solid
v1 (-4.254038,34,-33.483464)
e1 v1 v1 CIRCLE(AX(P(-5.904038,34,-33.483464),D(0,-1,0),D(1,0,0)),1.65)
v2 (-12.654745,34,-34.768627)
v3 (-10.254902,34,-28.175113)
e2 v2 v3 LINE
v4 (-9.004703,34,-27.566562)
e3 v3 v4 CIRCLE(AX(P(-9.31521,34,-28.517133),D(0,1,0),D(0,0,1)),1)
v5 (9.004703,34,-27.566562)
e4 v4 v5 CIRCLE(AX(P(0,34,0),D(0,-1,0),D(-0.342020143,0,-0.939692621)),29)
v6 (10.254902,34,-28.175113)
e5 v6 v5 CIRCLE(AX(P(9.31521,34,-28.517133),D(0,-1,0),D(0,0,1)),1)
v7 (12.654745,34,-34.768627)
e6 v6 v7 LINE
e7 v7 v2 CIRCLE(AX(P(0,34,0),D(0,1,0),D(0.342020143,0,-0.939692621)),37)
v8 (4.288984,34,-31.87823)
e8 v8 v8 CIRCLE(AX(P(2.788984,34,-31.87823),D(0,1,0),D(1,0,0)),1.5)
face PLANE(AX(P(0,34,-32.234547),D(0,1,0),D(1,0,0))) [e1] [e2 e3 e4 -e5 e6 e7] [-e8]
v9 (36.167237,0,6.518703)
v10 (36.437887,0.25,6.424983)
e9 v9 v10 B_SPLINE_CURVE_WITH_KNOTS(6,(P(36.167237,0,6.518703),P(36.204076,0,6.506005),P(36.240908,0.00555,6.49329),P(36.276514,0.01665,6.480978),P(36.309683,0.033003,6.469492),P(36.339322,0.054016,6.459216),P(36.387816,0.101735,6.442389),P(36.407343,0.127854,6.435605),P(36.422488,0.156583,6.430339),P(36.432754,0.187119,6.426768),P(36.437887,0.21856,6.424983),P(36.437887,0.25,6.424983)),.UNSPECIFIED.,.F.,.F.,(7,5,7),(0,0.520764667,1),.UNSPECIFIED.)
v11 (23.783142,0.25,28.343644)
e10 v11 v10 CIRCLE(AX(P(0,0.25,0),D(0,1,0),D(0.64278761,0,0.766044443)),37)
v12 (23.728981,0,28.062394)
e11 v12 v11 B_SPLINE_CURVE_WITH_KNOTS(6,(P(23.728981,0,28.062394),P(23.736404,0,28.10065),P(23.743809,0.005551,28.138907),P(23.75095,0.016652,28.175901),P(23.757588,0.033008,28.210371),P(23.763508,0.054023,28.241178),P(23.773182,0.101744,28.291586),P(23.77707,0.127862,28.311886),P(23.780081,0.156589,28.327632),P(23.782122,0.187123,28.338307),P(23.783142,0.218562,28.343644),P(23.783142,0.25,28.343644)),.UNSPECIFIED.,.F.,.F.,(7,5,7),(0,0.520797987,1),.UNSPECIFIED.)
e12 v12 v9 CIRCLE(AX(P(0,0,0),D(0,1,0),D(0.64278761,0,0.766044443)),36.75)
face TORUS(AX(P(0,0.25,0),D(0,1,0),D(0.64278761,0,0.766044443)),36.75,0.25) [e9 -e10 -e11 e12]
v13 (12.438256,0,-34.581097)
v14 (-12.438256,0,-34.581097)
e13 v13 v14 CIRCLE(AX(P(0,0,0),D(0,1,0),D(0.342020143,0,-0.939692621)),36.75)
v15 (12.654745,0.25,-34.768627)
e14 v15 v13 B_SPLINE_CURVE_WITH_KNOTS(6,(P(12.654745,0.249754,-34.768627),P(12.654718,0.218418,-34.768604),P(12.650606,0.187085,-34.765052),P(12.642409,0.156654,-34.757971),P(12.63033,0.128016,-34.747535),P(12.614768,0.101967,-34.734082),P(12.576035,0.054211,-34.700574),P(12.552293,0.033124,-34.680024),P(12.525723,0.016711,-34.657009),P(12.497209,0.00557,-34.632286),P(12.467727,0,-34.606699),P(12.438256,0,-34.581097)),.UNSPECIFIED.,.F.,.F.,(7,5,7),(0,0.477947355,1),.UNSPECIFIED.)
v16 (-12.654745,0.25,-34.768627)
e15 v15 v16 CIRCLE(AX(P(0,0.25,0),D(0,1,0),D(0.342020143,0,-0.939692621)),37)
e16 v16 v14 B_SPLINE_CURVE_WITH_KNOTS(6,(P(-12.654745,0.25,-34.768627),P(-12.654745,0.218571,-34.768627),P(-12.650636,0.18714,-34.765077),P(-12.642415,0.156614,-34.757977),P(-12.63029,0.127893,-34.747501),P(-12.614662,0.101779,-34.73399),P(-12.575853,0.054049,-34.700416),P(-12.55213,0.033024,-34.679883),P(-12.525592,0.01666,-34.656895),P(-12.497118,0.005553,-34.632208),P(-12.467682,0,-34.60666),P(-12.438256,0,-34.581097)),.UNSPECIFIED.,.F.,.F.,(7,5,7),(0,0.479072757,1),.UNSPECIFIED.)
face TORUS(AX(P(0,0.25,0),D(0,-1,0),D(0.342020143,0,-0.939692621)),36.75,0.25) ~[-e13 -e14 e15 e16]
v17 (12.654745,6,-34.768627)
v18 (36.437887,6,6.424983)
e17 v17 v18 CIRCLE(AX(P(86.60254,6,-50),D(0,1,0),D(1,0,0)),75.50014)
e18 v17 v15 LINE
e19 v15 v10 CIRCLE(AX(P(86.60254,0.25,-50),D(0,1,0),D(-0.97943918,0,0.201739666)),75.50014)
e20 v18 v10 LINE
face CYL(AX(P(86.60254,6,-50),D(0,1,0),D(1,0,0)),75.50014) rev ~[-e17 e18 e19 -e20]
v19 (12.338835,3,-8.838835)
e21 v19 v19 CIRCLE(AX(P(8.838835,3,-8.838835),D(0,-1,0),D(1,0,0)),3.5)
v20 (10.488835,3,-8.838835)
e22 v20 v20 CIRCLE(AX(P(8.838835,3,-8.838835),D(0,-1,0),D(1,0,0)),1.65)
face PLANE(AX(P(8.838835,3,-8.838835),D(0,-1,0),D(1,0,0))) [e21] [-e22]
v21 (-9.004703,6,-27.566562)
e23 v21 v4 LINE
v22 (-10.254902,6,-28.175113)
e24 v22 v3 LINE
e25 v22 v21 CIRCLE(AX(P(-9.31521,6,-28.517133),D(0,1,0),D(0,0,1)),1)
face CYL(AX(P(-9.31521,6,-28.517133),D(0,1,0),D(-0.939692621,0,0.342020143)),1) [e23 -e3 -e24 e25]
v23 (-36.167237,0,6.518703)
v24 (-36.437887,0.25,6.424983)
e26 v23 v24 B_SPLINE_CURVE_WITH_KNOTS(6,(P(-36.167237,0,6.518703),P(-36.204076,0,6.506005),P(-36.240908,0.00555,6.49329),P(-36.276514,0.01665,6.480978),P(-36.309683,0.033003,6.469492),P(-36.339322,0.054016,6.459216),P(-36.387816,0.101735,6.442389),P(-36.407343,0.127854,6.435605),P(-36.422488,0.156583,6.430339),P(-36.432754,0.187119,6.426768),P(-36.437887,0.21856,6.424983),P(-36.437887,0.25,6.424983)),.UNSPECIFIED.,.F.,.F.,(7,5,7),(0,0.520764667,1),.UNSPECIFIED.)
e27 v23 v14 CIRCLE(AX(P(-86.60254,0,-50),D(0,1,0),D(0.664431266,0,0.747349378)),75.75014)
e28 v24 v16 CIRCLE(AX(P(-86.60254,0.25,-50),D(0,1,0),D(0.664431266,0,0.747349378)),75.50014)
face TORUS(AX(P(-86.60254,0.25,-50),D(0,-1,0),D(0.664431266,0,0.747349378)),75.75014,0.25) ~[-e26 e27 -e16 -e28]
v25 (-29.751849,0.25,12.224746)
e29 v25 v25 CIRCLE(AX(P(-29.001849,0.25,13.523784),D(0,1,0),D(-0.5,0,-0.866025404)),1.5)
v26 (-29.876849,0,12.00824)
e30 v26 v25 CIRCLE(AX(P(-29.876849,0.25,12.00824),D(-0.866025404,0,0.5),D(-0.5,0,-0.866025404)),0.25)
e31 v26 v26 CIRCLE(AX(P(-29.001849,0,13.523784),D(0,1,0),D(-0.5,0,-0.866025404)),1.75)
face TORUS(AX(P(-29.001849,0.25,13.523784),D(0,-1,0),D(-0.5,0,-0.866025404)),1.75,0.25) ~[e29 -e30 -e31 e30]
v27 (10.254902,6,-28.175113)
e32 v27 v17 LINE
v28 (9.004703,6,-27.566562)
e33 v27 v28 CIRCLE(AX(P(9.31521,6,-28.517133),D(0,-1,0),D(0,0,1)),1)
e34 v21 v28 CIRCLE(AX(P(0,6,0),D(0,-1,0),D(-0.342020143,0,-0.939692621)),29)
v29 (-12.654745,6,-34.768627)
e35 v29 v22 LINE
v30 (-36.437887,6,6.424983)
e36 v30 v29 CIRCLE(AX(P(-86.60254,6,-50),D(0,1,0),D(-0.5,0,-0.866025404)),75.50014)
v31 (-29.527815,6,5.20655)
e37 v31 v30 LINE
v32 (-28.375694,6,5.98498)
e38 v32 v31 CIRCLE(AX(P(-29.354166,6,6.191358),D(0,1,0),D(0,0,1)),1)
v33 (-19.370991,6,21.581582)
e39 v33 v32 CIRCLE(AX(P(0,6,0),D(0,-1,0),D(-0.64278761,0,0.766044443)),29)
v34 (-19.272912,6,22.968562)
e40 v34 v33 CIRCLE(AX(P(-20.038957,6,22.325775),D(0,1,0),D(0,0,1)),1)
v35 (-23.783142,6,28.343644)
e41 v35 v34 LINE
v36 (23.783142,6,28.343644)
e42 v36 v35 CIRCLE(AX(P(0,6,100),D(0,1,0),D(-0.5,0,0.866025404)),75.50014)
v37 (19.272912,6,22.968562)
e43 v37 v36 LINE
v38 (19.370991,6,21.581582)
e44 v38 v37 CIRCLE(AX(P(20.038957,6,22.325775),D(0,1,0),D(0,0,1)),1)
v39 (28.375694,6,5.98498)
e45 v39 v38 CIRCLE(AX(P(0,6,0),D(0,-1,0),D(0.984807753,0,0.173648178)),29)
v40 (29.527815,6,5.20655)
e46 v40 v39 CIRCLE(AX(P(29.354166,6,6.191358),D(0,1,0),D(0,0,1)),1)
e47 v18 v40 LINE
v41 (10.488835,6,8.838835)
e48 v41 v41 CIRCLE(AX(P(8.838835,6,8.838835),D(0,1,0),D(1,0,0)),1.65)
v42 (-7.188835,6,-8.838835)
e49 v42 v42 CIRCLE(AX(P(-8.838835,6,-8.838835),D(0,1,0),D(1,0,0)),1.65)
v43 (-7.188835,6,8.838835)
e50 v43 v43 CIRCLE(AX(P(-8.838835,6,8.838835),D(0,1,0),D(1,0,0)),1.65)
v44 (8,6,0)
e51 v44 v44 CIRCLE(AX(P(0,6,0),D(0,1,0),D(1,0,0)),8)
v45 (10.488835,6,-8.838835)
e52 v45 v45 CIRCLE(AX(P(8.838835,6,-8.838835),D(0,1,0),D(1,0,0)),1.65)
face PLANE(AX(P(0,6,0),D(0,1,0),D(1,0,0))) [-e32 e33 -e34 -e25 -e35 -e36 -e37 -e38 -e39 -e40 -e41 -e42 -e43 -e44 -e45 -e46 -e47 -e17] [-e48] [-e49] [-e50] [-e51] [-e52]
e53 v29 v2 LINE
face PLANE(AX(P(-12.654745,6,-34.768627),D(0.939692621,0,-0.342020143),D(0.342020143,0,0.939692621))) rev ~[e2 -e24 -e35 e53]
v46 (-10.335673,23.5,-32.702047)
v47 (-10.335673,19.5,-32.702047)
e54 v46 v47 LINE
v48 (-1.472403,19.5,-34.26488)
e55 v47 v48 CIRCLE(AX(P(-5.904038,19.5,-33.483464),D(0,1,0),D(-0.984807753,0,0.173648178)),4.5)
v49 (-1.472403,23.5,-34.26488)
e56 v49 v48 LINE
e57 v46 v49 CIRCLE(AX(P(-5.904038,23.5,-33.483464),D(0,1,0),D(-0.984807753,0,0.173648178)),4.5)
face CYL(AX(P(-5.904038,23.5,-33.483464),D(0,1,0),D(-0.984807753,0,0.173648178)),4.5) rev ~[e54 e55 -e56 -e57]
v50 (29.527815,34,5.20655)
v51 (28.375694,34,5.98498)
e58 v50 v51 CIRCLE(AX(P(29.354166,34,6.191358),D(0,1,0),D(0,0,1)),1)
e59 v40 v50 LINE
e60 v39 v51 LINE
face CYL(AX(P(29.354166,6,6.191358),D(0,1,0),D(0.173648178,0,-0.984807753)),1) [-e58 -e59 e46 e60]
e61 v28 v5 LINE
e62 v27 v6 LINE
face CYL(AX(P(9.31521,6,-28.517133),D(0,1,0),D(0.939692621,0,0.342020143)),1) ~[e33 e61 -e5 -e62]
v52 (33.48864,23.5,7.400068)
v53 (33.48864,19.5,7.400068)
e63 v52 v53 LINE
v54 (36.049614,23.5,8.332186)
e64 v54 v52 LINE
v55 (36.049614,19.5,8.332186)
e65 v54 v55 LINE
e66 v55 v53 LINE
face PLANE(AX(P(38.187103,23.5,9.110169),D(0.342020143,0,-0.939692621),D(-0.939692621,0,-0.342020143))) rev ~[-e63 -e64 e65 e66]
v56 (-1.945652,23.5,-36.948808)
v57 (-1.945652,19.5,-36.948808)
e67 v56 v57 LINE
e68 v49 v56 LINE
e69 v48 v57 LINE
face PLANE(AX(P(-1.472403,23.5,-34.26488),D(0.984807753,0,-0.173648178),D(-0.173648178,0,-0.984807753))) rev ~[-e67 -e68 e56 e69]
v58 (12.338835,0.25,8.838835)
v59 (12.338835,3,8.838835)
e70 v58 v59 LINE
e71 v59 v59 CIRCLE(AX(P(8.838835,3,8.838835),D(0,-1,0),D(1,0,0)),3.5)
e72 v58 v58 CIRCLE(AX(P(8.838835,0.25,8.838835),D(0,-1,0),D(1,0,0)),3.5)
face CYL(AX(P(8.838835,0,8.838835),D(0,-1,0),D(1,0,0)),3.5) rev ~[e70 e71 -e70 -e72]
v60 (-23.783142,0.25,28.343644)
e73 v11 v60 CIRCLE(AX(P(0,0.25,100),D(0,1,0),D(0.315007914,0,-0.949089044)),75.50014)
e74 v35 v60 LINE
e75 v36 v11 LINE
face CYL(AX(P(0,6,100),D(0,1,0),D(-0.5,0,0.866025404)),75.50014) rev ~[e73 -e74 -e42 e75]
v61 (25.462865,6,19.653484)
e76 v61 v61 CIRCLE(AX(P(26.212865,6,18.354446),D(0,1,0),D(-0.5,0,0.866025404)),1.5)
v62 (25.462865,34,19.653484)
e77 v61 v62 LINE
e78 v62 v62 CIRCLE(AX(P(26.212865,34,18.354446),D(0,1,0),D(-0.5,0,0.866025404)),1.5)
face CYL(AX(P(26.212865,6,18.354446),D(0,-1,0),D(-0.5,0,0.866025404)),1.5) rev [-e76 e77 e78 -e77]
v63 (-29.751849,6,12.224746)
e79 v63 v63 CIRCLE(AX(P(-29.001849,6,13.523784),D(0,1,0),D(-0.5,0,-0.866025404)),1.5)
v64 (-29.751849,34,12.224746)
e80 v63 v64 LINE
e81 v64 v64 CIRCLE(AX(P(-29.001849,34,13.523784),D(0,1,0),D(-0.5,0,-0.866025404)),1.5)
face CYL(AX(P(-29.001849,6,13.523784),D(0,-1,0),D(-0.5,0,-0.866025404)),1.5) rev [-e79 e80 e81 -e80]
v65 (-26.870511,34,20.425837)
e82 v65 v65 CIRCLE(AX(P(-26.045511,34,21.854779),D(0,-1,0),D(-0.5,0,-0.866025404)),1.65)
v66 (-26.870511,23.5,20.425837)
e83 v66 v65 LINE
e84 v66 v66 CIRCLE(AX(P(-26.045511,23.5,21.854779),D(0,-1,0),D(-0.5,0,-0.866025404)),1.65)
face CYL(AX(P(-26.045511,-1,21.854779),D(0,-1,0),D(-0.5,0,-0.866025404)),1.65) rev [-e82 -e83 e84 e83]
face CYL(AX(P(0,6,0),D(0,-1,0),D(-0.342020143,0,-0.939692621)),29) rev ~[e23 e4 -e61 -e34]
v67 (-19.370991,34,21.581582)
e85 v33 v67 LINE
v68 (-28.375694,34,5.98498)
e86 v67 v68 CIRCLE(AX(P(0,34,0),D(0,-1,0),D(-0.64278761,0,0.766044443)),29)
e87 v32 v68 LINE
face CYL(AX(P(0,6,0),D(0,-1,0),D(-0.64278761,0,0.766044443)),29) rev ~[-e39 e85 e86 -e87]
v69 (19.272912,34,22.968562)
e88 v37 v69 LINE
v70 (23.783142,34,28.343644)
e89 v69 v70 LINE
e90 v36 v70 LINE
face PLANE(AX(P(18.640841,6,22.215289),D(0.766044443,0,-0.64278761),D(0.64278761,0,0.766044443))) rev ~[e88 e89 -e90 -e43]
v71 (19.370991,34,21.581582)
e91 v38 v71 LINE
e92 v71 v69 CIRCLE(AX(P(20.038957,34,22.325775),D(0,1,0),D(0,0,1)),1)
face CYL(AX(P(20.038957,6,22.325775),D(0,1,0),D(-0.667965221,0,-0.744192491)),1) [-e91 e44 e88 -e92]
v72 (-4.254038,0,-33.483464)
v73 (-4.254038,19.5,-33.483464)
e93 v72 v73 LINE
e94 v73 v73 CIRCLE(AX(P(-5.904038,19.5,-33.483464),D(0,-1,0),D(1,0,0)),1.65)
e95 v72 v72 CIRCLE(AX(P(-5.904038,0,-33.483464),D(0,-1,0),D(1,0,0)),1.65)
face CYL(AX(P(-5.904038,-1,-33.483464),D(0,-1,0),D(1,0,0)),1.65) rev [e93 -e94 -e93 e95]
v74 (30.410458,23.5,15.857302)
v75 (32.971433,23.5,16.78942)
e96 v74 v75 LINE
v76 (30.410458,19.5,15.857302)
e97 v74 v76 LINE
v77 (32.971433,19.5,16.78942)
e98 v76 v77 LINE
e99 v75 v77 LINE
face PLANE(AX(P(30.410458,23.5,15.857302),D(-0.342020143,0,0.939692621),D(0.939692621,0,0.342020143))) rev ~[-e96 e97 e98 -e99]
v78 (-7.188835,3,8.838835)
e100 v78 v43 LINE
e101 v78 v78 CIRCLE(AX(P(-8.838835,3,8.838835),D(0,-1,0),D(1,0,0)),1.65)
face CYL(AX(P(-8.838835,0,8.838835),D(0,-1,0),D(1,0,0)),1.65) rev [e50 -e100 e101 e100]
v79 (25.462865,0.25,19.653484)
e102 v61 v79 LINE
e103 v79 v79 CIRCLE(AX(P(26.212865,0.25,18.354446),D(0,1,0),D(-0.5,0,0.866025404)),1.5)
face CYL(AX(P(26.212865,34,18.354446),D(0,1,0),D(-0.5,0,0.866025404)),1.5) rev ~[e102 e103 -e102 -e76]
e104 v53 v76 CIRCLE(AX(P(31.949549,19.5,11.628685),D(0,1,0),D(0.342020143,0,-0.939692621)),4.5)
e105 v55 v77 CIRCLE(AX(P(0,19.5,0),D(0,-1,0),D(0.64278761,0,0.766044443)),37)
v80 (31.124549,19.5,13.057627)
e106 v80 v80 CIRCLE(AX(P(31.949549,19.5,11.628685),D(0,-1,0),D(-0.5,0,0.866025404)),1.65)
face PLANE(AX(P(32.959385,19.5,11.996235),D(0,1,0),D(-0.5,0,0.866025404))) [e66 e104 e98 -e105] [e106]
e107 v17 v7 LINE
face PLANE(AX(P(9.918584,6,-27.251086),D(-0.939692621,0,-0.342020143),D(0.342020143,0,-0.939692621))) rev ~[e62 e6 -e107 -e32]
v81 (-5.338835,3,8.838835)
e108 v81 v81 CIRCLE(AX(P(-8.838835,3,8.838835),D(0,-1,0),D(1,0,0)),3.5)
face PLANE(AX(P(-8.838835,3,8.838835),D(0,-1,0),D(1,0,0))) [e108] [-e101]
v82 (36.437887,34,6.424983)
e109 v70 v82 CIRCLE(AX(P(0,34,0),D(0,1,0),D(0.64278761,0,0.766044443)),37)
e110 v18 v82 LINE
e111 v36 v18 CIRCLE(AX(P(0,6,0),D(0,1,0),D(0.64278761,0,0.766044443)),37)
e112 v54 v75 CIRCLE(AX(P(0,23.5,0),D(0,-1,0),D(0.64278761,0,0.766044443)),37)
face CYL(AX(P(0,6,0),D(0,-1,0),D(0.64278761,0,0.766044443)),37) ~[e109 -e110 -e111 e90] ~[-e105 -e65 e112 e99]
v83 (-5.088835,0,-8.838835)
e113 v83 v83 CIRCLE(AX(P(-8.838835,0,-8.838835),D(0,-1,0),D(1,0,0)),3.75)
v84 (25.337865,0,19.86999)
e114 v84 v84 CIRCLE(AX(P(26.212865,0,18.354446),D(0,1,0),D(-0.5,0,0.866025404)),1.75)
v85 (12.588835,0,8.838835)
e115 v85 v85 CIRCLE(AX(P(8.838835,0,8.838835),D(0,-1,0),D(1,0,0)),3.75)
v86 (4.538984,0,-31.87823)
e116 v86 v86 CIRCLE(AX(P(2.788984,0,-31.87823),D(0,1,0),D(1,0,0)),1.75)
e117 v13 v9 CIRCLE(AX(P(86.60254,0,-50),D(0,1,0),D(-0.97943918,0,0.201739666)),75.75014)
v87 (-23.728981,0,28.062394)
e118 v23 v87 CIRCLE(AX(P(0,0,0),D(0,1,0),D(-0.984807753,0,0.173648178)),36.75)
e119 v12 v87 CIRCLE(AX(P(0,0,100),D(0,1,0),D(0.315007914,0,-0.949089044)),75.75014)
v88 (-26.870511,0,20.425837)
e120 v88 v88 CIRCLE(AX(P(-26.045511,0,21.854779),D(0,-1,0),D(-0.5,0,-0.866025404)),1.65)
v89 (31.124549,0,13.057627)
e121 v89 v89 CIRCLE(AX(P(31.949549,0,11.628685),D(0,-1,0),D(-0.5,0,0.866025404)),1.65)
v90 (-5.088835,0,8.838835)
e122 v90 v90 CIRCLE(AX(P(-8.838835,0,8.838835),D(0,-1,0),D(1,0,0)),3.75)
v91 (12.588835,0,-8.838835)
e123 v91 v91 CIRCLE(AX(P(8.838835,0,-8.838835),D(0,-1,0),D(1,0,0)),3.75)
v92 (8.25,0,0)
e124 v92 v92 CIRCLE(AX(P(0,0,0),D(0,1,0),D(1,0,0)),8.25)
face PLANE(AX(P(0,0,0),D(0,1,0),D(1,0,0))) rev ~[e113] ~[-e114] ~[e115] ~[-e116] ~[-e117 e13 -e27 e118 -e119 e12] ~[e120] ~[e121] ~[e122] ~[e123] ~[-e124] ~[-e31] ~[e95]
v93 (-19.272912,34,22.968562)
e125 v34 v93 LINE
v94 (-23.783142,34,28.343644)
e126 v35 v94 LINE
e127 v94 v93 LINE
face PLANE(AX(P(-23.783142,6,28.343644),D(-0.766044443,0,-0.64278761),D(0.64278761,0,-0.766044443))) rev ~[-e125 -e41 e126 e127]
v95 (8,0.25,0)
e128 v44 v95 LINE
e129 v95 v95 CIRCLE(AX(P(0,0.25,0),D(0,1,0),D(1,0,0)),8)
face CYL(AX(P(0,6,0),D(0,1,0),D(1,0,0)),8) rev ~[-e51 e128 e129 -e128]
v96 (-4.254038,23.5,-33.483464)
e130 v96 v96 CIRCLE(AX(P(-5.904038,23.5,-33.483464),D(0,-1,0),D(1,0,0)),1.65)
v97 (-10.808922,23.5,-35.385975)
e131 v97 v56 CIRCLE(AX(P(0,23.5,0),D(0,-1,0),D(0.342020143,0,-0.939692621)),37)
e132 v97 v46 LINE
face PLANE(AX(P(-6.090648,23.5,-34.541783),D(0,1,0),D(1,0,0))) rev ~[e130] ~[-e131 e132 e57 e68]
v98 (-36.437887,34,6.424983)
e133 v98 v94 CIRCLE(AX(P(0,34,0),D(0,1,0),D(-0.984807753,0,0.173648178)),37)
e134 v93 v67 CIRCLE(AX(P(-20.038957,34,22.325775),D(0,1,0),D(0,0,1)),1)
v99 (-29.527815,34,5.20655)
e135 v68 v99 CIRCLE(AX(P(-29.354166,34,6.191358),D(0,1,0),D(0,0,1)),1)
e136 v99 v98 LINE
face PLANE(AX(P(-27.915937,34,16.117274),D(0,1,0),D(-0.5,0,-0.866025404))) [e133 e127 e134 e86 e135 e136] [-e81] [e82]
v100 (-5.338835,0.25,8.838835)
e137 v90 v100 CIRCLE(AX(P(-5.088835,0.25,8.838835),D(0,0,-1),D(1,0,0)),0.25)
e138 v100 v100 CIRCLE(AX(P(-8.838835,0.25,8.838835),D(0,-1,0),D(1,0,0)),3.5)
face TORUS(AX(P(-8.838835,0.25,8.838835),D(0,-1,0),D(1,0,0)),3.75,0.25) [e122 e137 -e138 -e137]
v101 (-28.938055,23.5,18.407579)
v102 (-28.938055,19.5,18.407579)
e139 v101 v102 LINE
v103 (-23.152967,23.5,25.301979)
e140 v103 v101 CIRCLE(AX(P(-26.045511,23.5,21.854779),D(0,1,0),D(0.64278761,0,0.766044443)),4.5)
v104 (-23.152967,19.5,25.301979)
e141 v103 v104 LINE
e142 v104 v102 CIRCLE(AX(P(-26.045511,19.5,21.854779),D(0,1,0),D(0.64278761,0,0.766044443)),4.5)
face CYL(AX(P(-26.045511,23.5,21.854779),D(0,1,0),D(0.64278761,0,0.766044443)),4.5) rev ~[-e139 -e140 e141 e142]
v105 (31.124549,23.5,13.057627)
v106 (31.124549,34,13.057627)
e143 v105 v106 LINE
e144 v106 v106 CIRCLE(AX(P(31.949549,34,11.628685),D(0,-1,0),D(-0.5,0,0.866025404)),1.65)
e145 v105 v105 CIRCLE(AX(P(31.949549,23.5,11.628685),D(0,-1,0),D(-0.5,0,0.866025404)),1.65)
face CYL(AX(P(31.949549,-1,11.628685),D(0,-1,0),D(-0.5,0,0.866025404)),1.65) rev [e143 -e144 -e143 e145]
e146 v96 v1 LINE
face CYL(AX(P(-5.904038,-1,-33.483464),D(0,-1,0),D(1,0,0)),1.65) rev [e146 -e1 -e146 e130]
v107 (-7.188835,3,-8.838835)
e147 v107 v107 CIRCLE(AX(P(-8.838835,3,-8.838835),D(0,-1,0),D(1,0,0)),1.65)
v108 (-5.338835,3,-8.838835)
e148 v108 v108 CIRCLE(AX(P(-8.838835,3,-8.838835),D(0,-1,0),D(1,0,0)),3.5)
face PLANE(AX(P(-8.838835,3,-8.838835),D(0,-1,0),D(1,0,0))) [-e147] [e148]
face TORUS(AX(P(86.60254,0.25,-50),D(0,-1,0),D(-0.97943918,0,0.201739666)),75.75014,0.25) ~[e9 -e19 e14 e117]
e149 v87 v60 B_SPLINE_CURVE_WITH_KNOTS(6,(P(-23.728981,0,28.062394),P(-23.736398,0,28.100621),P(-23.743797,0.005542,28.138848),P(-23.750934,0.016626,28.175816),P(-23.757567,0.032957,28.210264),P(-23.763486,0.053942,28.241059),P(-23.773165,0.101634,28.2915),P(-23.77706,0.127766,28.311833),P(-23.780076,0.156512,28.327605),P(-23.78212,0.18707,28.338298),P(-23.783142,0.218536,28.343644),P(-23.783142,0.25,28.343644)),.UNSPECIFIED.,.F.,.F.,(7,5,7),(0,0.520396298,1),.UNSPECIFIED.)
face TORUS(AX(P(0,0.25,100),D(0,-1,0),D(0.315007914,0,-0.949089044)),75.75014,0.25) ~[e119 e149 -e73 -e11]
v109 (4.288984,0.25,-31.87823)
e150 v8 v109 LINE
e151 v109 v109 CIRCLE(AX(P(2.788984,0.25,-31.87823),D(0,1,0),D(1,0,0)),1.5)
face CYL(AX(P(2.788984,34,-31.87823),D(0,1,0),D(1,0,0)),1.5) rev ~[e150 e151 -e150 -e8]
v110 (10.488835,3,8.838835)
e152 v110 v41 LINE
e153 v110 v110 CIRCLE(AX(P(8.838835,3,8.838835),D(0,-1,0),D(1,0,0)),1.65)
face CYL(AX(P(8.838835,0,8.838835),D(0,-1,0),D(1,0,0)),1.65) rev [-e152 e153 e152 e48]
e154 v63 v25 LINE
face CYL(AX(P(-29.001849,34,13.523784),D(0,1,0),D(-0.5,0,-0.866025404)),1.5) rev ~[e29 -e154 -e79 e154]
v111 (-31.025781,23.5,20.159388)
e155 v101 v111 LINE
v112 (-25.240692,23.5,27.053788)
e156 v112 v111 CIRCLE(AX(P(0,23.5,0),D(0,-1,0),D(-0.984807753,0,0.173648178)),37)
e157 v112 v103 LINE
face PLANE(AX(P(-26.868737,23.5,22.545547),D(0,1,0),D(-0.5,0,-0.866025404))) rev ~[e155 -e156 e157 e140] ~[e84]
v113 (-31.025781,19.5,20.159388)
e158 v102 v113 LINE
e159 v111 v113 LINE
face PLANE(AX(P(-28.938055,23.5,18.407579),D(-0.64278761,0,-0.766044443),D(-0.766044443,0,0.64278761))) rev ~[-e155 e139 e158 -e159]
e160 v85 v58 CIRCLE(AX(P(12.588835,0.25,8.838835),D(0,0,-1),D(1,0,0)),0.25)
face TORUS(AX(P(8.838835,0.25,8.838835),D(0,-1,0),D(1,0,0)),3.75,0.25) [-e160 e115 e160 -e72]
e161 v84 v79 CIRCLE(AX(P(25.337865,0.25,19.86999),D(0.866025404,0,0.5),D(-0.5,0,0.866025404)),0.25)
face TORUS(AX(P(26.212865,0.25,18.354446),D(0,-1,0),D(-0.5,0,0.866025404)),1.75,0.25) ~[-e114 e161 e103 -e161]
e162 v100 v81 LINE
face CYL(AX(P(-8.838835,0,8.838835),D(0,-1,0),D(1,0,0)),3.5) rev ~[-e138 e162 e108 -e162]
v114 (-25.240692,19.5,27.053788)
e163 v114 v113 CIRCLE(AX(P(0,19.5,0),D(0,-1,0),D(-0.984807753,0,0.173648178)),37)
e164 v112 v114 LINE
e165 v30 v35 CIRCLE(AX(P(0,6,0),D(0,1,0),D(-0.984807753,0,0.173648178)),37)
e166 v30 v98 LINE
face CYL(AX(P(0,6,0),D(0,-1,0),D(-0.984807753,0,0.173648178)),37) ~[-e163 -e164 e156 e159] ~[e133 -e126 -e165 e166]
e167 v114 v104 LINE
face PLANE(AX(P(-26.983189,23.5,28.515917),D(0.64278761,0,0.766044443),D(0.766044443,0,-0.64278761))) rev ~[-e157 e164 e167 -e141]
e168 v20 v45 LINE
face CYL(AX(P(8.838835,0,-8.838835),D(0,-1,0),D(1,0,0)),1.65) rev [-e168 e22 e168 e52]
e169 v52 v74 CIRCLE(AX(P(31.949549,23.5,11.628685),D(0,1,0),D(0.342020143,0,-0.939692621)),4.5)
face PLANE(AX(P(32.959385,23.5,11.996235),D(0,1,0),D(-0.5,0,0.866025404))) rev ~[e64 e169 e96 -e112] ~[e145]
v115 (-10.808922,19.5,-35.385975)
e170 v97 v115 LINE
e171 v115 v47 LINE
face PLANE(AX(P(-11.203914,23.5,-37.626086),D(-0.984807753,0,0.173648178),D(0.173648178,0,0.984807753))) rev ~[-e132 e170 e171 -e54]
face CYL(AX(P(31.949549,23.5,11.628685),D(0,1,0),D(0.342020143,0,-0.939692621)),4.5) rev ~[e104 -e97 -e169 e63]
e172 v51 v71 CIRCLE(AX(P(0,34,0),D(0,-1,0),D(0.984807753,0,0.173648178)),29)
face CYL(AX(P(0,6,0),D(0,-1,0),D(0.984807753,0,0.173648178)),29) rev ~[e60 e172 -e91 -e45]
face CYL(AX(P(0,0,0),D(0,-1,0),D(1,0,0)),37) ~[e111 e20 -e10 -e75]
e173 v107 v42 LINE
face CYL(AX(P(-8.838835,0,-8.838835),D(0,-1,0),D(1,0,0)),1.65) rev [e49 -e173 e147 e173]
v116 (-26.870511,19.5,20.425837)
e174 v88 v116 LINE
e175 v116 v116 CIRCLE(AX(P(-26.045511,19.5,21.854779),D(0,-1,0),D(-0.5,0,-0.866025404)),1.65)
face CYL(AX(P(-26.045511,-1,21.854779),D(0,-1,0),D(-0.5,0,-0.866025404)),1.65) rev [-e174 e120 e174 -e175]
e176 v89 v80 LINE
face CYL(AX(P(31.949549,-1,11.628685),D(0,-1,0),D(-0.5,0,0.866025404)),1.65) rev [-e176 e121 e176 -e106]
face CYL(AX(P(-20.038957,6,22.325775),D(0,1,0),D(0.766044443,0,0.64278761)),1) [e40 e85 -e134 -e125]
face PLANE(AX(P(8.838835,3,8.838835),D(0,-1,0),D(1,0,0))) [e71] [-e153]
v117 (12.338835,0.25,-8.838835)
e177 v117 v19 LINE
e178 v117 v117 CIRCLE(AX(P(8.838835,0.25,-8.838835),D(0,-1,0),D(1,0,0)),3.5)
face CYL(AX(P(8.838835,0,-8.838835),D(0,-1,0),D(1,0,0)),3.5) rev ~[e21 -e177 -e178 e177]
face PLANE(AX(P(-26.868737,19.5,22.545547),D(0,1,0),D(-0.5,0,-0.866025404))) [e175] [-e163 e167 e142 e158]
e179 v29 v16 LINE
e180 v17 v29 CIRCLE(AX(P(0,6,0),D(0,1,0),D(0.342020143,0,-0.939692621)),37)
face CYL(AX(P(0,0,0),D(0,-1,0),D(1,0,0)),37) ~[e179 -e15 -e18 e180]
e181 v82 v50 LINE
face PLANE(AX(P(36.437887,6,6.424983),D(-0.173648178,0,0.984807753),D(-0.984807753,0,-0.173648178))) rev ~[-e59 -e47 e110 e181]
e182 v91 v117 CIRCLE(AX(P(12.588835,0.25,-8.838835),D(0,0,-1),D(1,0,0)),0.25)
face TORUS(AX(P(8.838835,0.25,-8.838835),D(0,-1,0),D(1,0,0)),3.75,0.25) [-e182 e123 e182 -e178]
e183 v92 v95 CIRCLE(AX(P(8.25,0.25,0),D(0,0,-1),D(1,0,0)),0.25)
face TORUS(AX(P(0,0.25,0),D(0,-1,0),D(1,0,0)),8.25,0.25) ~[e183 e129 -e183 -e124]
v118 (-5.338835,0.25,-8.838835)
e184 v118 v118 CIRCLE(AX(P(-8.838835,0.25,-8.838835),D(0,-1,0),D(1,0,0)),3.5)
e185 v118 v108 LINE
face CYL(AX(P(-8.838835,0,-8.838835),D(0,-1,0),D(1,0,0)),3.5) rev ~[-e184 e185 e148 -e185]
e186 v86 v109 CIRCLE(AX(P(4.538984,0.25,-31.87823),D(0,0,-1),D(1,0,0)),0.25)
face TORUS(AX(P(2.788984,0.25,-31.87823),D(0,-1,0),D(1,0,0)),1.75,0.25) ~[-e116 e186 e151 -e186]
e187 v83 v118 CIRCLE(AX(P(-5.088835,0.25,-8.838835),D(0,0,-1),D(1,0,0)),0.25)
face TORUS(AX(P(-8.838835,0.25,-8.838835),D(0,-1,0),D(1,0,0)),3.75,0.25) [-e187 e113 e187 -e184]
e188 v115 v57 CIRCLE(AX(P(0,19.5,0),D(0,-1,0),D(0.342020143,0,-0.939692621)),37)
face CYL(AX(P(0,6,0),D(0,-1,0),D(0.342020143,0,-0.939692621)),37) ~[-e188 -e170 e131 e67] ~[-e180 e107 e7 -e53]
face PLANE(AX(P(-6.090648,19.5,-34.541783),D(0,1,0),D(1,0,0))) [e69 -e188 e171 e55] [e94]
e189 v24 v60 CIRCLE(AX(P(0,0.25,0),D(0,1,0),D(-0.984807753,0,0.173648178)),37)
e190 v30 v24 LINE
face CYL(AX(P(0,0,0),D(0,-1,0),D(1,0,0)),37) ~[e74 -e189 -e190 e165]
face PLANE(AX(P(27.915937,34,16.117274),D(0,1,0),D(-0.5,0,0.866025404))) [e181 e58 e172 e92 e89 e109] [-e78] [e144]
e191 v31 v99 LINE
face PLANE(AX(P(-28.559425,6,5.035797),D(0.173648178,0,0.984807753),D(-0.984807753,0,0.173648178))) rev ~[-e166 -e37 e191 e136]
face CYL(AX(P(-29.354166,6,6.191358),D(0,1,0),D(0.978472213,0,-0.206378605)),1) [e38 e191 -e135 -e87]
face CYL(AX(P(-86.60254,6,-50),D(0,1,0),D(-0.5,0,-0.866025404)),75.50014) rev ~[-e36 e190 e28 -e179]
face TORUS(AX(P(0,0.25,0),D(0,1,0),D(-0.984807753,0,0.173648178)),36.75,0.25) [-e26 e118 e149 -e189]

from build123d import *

# Parameters (mm, degrees)
SKETCH1_R           = 37
SKETCH1_R_2         = 1.65
BOSS_EXTRUDE1_DEPTH = 6
SKETCH2_R           = 1.5
BOSS_EXTRUDE2_DEPTH = 28
SKETCH16_R          = 1.5
CUT_EXTRUDE9_DEPTH  = 35
CIRPATTERN1_COUNT   = 3
SKETCH3_R           = 8
CUT_EXTRUDE1_DEPTH  = 10
SKETCH4_R           = 3.5
CUT_EXTRUDE2_DEPTH  = 3
SKETCH5_R           = 75.500139874
CUT_EXTRUDE3_DEPTH  = 7
CIRPATTERN2_COUNT   = 3
FILLET1_R           = 0.25
FILLET2_R           = 1
CUT_EXTRUDE4_START  = -24.5000001
SKETCH9_R           = 1.65
CUT_EXTRUDE4_DEPTH  = 36.0000001
CUT_EXTRUDE5_DEPTH  = 4
CIRPATTERN3_COUNT   = 3


with BuildPart() as part:
    # Sketch1 → Boss-Extrude1 (new body)
    with BuildSketch(Plane(origin=(0, 0, 0), x_dir=(1, 0, 0), z_dir=(0, 1, 0))):
        Circle(SKETCH1_R)
        with Locations((-8.838834765, 8.838834765)):
            Circle(SKETCH1_R_2, mode=Mode.SUBTRACT)
        with Locations((8.838834765, 8.838834765)):
            Circle(SKETCH1_R_2, mode=Mode.SUBTRACT)
        with Locations((8.838834765, -8.838834765)):
            Circle(SKETCH1_R_2, mode=Mode.SUBTRACT)
        with Locations((-8.838834765, -8.838834765)):
            Circle(SKETCH1_R_2, mode=Mode.SUBTRACT)
    extrude(amount=BOSS_EXTRUDE1_DEPTH)

    # Sketch2 → Boss-Extrude2 (add)
    with BuildSketch(Plane(origin=(0, 6, 0), x_dir=(1, 0, 0), z_dir=(0, 1, 0))):
        with BuildLine():
            Line((-12.654745303, 34.768626969), (-9.918584156, 27.251086003))
            ThreePointArc((-9.918584156, 27.251086003), (0, 29), (9.918584156, 27.251086003))
            Line((9.918584156, 27.251086003), (12.654745303, 34.768626969))
            ThreePointArc((12.654745303, 34.768626969), (0, 37), (-12.654745303, 34.768626969))
        make_face()
        with Locations((2.788983768, 31.878230339)):
            Circle(SKETCH2_R, mode=Mode.SUBTRACT)
    boss_extrude2 = extrude(amount=BOSS_EXTRUDE2_DEPTH)

    # Sketch16 → Cut-Extrude9 (cut, through all)
    with BuildSketch(Plane(origin=(0, 34, 0), x_dir=(1, 0, 0), z_dir=(0, 1, 0))):
        with Locations((2.788983768, 31.878230339)):
            Circle(SKETCH16_R)
    cut_extrude9 = extrude(amount=-CUT_EXTRUDE9_DEPTH, mode=Mode.SUBTRACT)

    # CirPattern1: Boss-Extrude2, Cut-Extrude9 ×3 about axis
    cirpattern1_axis = Axis((0, 0, 0), (0, 1, 0))
    for i in range(1, CIRPATTERN1_COUNT):
        add(boss_extrude2.rotate(cirpattern1_axis, i * 360 / CIRPATTERN1_COUNT))
        add(cut_extrude9.rotate(cirpattern1_axis, i * 360 / CIRPATTERN1_COUNT), mode=Mode.SUBTRACT)

    # Sketch3 → Cut-Extrude1 (cut)
    with BuildSketch(Plane(origin=(0, 6, 0), x_dir=(1, 0, 0), z_dir=(0, 1, 0))):
        Circle(SKETCH3_R)
    extrude(amount=-CUT_EXTRUDE1_DEPTH, mode=Mode.SUBTRACT)

    # Sketch4 → Cut-Extrude2 (cut)
    with BuildSketch(Plane.XZ):
        with Locations((8.838834765, 8.838834765)):
            Circle(SKETCH4_R)
        with Locations((8.838834765, -8.838834765)):
            Circle(SKETCH4_R)
        with Locations((-8.838834765, -8.838834765)):
            Circle(SKETCH4_R)
        with Locations((-8.838834765, 8.838834765)):
            Circle(SKETCH4_R)
    extrude(amount=-CUT_EXTRUDE2_DEPTH, mode=Mode.SUBTRACT)

    # Sketch5 → Cut-Extrude3 (cut, through all)
    with BuildSketch(Plane(origin=(0, 6, 0), x_dir=(1, 0, 0), z_dir=(0, 1, 0))):
        with Locations((86.602540378, 50)):
            Circle(SKETCH5_R)
    cut_extrude3 = extrude(amount=-CUT_EXTRUDE3_DEPTH, mode=Mode.SUBTRACT)

    # CirPattern2: Cut-Extrude3 ×3 about axis
    cirpattern2_axis = Axis((0, 0, 0), (0, 1, 0))
    for i in range(1, CIRPATTERN2_COUNT):
        add(cut_extrude3.rotate(cirpattern2_axis, i * 360 / CIRPATTERN2_COUNT), mode=Mode.SUBTRACT)

    # Fillet1
    fillet1_edges = [part.edges().sort_by_distance(p)[0] for p in [
        (-12.338834765, 0, -8.838834765),
        (5.338834765, 0, -8.838834765),
        (5.338834765, 0, 8.838834765),
        (0, 0, -37),
        (21.217501259, 0, -12.249930063),
        (-32.04293994, 0, 18.5),
        (32.04293994, 0, 18.5),
        (0, 0, 24.499860126),
        (-21.217501259, 0, -12.249930063),
        (1.288983768, 0, -31.878230339),
        (-28.251849185, 0, 14.822822481),
        (26.962865417, 0, 17.055407858),
        (-8, 0, 0),
        (-12.338834765, 0, 8.838834765),
    ]]
    fillet(fillet1_edges, radius=FILLET1_R)

    # Fillet2
    fillet2_edges = [part.edges().sort_by_distance(p)[0] for p in [
        (-9.918584156, 20, -27.251086003),
        (9.918584156, 20, -27.251086003),
        (-18.640840681, 20, 22.21528885),
        (-28.559424837, 20, 5.035797152),
        (28.559424837, 20, 5.035797152),
        (18.640840681, 20, 22.21528885),
    ]]
    fillet(fillet2_edges, radius=FILLET2_R)

    # Sketch9 → Cut-Extrude4 (cut)
    with BuildSketch(Plane(origin=(0, 23.5, 0), x_dir=(1, 0, 0), z_dir=(0, 1, 0)).offset(CUT_EXTRUDE4_START)):
        with Locations((-5.904038041, 33.483463602)):
            Circle(SKETCH9_R)
    cut_extrude4 = extrude(amount=CUT_EXTRUDE4_DEPTH, mode=Mode.SUBTRACT)

    # Sketch10 → Cut-Extrude5 (cut)
    with BuildSketch(Plane(origin=(0, 23.5, 0), x_dir=(1, 0, 0), z_dir=(0, 1, 0))):
        with BuildLine():
            Line((-11.203913818, 37.626085568), (-10.335672929, 32.702046803))
            ThreePointArc((-10.335672929, 32.702046803), (-5.122621241, 29.051828714), (-1.472403152, 34.264880402))
            Line((-1.472403152, 34.264880402), (-2.34064404, 39.188919167))
            Line((-2.34064404, 39.188919167), (-11.203913818, 37.626085568))
        make_face()
    cut_extrude5 = extrude(amount=-CUT_EXTRUDE5_DEPTH, mode=Mode.SUBTRACT)

    # CirPattern3: Cut-Extrude4, Cut-Extrude5 ×3 about axis
    cirpattern3_axis = Axis((0, 0, 0), (0, 1, 0))
    for i in range(1, CIRPATTERN3_COUNT):
        add(cut_extrude4.rotate(cirpattern3_axis, i * 360 / CIRPATTERN3_COUNT), mode=Mode.SUBTRACT)
        add(cut_extrude5.rotate(cirpattern3_axis, i * 360 / CIRPATTERN3_COUNT), mode=Mode.SUBTRACT)


solid = part.part
